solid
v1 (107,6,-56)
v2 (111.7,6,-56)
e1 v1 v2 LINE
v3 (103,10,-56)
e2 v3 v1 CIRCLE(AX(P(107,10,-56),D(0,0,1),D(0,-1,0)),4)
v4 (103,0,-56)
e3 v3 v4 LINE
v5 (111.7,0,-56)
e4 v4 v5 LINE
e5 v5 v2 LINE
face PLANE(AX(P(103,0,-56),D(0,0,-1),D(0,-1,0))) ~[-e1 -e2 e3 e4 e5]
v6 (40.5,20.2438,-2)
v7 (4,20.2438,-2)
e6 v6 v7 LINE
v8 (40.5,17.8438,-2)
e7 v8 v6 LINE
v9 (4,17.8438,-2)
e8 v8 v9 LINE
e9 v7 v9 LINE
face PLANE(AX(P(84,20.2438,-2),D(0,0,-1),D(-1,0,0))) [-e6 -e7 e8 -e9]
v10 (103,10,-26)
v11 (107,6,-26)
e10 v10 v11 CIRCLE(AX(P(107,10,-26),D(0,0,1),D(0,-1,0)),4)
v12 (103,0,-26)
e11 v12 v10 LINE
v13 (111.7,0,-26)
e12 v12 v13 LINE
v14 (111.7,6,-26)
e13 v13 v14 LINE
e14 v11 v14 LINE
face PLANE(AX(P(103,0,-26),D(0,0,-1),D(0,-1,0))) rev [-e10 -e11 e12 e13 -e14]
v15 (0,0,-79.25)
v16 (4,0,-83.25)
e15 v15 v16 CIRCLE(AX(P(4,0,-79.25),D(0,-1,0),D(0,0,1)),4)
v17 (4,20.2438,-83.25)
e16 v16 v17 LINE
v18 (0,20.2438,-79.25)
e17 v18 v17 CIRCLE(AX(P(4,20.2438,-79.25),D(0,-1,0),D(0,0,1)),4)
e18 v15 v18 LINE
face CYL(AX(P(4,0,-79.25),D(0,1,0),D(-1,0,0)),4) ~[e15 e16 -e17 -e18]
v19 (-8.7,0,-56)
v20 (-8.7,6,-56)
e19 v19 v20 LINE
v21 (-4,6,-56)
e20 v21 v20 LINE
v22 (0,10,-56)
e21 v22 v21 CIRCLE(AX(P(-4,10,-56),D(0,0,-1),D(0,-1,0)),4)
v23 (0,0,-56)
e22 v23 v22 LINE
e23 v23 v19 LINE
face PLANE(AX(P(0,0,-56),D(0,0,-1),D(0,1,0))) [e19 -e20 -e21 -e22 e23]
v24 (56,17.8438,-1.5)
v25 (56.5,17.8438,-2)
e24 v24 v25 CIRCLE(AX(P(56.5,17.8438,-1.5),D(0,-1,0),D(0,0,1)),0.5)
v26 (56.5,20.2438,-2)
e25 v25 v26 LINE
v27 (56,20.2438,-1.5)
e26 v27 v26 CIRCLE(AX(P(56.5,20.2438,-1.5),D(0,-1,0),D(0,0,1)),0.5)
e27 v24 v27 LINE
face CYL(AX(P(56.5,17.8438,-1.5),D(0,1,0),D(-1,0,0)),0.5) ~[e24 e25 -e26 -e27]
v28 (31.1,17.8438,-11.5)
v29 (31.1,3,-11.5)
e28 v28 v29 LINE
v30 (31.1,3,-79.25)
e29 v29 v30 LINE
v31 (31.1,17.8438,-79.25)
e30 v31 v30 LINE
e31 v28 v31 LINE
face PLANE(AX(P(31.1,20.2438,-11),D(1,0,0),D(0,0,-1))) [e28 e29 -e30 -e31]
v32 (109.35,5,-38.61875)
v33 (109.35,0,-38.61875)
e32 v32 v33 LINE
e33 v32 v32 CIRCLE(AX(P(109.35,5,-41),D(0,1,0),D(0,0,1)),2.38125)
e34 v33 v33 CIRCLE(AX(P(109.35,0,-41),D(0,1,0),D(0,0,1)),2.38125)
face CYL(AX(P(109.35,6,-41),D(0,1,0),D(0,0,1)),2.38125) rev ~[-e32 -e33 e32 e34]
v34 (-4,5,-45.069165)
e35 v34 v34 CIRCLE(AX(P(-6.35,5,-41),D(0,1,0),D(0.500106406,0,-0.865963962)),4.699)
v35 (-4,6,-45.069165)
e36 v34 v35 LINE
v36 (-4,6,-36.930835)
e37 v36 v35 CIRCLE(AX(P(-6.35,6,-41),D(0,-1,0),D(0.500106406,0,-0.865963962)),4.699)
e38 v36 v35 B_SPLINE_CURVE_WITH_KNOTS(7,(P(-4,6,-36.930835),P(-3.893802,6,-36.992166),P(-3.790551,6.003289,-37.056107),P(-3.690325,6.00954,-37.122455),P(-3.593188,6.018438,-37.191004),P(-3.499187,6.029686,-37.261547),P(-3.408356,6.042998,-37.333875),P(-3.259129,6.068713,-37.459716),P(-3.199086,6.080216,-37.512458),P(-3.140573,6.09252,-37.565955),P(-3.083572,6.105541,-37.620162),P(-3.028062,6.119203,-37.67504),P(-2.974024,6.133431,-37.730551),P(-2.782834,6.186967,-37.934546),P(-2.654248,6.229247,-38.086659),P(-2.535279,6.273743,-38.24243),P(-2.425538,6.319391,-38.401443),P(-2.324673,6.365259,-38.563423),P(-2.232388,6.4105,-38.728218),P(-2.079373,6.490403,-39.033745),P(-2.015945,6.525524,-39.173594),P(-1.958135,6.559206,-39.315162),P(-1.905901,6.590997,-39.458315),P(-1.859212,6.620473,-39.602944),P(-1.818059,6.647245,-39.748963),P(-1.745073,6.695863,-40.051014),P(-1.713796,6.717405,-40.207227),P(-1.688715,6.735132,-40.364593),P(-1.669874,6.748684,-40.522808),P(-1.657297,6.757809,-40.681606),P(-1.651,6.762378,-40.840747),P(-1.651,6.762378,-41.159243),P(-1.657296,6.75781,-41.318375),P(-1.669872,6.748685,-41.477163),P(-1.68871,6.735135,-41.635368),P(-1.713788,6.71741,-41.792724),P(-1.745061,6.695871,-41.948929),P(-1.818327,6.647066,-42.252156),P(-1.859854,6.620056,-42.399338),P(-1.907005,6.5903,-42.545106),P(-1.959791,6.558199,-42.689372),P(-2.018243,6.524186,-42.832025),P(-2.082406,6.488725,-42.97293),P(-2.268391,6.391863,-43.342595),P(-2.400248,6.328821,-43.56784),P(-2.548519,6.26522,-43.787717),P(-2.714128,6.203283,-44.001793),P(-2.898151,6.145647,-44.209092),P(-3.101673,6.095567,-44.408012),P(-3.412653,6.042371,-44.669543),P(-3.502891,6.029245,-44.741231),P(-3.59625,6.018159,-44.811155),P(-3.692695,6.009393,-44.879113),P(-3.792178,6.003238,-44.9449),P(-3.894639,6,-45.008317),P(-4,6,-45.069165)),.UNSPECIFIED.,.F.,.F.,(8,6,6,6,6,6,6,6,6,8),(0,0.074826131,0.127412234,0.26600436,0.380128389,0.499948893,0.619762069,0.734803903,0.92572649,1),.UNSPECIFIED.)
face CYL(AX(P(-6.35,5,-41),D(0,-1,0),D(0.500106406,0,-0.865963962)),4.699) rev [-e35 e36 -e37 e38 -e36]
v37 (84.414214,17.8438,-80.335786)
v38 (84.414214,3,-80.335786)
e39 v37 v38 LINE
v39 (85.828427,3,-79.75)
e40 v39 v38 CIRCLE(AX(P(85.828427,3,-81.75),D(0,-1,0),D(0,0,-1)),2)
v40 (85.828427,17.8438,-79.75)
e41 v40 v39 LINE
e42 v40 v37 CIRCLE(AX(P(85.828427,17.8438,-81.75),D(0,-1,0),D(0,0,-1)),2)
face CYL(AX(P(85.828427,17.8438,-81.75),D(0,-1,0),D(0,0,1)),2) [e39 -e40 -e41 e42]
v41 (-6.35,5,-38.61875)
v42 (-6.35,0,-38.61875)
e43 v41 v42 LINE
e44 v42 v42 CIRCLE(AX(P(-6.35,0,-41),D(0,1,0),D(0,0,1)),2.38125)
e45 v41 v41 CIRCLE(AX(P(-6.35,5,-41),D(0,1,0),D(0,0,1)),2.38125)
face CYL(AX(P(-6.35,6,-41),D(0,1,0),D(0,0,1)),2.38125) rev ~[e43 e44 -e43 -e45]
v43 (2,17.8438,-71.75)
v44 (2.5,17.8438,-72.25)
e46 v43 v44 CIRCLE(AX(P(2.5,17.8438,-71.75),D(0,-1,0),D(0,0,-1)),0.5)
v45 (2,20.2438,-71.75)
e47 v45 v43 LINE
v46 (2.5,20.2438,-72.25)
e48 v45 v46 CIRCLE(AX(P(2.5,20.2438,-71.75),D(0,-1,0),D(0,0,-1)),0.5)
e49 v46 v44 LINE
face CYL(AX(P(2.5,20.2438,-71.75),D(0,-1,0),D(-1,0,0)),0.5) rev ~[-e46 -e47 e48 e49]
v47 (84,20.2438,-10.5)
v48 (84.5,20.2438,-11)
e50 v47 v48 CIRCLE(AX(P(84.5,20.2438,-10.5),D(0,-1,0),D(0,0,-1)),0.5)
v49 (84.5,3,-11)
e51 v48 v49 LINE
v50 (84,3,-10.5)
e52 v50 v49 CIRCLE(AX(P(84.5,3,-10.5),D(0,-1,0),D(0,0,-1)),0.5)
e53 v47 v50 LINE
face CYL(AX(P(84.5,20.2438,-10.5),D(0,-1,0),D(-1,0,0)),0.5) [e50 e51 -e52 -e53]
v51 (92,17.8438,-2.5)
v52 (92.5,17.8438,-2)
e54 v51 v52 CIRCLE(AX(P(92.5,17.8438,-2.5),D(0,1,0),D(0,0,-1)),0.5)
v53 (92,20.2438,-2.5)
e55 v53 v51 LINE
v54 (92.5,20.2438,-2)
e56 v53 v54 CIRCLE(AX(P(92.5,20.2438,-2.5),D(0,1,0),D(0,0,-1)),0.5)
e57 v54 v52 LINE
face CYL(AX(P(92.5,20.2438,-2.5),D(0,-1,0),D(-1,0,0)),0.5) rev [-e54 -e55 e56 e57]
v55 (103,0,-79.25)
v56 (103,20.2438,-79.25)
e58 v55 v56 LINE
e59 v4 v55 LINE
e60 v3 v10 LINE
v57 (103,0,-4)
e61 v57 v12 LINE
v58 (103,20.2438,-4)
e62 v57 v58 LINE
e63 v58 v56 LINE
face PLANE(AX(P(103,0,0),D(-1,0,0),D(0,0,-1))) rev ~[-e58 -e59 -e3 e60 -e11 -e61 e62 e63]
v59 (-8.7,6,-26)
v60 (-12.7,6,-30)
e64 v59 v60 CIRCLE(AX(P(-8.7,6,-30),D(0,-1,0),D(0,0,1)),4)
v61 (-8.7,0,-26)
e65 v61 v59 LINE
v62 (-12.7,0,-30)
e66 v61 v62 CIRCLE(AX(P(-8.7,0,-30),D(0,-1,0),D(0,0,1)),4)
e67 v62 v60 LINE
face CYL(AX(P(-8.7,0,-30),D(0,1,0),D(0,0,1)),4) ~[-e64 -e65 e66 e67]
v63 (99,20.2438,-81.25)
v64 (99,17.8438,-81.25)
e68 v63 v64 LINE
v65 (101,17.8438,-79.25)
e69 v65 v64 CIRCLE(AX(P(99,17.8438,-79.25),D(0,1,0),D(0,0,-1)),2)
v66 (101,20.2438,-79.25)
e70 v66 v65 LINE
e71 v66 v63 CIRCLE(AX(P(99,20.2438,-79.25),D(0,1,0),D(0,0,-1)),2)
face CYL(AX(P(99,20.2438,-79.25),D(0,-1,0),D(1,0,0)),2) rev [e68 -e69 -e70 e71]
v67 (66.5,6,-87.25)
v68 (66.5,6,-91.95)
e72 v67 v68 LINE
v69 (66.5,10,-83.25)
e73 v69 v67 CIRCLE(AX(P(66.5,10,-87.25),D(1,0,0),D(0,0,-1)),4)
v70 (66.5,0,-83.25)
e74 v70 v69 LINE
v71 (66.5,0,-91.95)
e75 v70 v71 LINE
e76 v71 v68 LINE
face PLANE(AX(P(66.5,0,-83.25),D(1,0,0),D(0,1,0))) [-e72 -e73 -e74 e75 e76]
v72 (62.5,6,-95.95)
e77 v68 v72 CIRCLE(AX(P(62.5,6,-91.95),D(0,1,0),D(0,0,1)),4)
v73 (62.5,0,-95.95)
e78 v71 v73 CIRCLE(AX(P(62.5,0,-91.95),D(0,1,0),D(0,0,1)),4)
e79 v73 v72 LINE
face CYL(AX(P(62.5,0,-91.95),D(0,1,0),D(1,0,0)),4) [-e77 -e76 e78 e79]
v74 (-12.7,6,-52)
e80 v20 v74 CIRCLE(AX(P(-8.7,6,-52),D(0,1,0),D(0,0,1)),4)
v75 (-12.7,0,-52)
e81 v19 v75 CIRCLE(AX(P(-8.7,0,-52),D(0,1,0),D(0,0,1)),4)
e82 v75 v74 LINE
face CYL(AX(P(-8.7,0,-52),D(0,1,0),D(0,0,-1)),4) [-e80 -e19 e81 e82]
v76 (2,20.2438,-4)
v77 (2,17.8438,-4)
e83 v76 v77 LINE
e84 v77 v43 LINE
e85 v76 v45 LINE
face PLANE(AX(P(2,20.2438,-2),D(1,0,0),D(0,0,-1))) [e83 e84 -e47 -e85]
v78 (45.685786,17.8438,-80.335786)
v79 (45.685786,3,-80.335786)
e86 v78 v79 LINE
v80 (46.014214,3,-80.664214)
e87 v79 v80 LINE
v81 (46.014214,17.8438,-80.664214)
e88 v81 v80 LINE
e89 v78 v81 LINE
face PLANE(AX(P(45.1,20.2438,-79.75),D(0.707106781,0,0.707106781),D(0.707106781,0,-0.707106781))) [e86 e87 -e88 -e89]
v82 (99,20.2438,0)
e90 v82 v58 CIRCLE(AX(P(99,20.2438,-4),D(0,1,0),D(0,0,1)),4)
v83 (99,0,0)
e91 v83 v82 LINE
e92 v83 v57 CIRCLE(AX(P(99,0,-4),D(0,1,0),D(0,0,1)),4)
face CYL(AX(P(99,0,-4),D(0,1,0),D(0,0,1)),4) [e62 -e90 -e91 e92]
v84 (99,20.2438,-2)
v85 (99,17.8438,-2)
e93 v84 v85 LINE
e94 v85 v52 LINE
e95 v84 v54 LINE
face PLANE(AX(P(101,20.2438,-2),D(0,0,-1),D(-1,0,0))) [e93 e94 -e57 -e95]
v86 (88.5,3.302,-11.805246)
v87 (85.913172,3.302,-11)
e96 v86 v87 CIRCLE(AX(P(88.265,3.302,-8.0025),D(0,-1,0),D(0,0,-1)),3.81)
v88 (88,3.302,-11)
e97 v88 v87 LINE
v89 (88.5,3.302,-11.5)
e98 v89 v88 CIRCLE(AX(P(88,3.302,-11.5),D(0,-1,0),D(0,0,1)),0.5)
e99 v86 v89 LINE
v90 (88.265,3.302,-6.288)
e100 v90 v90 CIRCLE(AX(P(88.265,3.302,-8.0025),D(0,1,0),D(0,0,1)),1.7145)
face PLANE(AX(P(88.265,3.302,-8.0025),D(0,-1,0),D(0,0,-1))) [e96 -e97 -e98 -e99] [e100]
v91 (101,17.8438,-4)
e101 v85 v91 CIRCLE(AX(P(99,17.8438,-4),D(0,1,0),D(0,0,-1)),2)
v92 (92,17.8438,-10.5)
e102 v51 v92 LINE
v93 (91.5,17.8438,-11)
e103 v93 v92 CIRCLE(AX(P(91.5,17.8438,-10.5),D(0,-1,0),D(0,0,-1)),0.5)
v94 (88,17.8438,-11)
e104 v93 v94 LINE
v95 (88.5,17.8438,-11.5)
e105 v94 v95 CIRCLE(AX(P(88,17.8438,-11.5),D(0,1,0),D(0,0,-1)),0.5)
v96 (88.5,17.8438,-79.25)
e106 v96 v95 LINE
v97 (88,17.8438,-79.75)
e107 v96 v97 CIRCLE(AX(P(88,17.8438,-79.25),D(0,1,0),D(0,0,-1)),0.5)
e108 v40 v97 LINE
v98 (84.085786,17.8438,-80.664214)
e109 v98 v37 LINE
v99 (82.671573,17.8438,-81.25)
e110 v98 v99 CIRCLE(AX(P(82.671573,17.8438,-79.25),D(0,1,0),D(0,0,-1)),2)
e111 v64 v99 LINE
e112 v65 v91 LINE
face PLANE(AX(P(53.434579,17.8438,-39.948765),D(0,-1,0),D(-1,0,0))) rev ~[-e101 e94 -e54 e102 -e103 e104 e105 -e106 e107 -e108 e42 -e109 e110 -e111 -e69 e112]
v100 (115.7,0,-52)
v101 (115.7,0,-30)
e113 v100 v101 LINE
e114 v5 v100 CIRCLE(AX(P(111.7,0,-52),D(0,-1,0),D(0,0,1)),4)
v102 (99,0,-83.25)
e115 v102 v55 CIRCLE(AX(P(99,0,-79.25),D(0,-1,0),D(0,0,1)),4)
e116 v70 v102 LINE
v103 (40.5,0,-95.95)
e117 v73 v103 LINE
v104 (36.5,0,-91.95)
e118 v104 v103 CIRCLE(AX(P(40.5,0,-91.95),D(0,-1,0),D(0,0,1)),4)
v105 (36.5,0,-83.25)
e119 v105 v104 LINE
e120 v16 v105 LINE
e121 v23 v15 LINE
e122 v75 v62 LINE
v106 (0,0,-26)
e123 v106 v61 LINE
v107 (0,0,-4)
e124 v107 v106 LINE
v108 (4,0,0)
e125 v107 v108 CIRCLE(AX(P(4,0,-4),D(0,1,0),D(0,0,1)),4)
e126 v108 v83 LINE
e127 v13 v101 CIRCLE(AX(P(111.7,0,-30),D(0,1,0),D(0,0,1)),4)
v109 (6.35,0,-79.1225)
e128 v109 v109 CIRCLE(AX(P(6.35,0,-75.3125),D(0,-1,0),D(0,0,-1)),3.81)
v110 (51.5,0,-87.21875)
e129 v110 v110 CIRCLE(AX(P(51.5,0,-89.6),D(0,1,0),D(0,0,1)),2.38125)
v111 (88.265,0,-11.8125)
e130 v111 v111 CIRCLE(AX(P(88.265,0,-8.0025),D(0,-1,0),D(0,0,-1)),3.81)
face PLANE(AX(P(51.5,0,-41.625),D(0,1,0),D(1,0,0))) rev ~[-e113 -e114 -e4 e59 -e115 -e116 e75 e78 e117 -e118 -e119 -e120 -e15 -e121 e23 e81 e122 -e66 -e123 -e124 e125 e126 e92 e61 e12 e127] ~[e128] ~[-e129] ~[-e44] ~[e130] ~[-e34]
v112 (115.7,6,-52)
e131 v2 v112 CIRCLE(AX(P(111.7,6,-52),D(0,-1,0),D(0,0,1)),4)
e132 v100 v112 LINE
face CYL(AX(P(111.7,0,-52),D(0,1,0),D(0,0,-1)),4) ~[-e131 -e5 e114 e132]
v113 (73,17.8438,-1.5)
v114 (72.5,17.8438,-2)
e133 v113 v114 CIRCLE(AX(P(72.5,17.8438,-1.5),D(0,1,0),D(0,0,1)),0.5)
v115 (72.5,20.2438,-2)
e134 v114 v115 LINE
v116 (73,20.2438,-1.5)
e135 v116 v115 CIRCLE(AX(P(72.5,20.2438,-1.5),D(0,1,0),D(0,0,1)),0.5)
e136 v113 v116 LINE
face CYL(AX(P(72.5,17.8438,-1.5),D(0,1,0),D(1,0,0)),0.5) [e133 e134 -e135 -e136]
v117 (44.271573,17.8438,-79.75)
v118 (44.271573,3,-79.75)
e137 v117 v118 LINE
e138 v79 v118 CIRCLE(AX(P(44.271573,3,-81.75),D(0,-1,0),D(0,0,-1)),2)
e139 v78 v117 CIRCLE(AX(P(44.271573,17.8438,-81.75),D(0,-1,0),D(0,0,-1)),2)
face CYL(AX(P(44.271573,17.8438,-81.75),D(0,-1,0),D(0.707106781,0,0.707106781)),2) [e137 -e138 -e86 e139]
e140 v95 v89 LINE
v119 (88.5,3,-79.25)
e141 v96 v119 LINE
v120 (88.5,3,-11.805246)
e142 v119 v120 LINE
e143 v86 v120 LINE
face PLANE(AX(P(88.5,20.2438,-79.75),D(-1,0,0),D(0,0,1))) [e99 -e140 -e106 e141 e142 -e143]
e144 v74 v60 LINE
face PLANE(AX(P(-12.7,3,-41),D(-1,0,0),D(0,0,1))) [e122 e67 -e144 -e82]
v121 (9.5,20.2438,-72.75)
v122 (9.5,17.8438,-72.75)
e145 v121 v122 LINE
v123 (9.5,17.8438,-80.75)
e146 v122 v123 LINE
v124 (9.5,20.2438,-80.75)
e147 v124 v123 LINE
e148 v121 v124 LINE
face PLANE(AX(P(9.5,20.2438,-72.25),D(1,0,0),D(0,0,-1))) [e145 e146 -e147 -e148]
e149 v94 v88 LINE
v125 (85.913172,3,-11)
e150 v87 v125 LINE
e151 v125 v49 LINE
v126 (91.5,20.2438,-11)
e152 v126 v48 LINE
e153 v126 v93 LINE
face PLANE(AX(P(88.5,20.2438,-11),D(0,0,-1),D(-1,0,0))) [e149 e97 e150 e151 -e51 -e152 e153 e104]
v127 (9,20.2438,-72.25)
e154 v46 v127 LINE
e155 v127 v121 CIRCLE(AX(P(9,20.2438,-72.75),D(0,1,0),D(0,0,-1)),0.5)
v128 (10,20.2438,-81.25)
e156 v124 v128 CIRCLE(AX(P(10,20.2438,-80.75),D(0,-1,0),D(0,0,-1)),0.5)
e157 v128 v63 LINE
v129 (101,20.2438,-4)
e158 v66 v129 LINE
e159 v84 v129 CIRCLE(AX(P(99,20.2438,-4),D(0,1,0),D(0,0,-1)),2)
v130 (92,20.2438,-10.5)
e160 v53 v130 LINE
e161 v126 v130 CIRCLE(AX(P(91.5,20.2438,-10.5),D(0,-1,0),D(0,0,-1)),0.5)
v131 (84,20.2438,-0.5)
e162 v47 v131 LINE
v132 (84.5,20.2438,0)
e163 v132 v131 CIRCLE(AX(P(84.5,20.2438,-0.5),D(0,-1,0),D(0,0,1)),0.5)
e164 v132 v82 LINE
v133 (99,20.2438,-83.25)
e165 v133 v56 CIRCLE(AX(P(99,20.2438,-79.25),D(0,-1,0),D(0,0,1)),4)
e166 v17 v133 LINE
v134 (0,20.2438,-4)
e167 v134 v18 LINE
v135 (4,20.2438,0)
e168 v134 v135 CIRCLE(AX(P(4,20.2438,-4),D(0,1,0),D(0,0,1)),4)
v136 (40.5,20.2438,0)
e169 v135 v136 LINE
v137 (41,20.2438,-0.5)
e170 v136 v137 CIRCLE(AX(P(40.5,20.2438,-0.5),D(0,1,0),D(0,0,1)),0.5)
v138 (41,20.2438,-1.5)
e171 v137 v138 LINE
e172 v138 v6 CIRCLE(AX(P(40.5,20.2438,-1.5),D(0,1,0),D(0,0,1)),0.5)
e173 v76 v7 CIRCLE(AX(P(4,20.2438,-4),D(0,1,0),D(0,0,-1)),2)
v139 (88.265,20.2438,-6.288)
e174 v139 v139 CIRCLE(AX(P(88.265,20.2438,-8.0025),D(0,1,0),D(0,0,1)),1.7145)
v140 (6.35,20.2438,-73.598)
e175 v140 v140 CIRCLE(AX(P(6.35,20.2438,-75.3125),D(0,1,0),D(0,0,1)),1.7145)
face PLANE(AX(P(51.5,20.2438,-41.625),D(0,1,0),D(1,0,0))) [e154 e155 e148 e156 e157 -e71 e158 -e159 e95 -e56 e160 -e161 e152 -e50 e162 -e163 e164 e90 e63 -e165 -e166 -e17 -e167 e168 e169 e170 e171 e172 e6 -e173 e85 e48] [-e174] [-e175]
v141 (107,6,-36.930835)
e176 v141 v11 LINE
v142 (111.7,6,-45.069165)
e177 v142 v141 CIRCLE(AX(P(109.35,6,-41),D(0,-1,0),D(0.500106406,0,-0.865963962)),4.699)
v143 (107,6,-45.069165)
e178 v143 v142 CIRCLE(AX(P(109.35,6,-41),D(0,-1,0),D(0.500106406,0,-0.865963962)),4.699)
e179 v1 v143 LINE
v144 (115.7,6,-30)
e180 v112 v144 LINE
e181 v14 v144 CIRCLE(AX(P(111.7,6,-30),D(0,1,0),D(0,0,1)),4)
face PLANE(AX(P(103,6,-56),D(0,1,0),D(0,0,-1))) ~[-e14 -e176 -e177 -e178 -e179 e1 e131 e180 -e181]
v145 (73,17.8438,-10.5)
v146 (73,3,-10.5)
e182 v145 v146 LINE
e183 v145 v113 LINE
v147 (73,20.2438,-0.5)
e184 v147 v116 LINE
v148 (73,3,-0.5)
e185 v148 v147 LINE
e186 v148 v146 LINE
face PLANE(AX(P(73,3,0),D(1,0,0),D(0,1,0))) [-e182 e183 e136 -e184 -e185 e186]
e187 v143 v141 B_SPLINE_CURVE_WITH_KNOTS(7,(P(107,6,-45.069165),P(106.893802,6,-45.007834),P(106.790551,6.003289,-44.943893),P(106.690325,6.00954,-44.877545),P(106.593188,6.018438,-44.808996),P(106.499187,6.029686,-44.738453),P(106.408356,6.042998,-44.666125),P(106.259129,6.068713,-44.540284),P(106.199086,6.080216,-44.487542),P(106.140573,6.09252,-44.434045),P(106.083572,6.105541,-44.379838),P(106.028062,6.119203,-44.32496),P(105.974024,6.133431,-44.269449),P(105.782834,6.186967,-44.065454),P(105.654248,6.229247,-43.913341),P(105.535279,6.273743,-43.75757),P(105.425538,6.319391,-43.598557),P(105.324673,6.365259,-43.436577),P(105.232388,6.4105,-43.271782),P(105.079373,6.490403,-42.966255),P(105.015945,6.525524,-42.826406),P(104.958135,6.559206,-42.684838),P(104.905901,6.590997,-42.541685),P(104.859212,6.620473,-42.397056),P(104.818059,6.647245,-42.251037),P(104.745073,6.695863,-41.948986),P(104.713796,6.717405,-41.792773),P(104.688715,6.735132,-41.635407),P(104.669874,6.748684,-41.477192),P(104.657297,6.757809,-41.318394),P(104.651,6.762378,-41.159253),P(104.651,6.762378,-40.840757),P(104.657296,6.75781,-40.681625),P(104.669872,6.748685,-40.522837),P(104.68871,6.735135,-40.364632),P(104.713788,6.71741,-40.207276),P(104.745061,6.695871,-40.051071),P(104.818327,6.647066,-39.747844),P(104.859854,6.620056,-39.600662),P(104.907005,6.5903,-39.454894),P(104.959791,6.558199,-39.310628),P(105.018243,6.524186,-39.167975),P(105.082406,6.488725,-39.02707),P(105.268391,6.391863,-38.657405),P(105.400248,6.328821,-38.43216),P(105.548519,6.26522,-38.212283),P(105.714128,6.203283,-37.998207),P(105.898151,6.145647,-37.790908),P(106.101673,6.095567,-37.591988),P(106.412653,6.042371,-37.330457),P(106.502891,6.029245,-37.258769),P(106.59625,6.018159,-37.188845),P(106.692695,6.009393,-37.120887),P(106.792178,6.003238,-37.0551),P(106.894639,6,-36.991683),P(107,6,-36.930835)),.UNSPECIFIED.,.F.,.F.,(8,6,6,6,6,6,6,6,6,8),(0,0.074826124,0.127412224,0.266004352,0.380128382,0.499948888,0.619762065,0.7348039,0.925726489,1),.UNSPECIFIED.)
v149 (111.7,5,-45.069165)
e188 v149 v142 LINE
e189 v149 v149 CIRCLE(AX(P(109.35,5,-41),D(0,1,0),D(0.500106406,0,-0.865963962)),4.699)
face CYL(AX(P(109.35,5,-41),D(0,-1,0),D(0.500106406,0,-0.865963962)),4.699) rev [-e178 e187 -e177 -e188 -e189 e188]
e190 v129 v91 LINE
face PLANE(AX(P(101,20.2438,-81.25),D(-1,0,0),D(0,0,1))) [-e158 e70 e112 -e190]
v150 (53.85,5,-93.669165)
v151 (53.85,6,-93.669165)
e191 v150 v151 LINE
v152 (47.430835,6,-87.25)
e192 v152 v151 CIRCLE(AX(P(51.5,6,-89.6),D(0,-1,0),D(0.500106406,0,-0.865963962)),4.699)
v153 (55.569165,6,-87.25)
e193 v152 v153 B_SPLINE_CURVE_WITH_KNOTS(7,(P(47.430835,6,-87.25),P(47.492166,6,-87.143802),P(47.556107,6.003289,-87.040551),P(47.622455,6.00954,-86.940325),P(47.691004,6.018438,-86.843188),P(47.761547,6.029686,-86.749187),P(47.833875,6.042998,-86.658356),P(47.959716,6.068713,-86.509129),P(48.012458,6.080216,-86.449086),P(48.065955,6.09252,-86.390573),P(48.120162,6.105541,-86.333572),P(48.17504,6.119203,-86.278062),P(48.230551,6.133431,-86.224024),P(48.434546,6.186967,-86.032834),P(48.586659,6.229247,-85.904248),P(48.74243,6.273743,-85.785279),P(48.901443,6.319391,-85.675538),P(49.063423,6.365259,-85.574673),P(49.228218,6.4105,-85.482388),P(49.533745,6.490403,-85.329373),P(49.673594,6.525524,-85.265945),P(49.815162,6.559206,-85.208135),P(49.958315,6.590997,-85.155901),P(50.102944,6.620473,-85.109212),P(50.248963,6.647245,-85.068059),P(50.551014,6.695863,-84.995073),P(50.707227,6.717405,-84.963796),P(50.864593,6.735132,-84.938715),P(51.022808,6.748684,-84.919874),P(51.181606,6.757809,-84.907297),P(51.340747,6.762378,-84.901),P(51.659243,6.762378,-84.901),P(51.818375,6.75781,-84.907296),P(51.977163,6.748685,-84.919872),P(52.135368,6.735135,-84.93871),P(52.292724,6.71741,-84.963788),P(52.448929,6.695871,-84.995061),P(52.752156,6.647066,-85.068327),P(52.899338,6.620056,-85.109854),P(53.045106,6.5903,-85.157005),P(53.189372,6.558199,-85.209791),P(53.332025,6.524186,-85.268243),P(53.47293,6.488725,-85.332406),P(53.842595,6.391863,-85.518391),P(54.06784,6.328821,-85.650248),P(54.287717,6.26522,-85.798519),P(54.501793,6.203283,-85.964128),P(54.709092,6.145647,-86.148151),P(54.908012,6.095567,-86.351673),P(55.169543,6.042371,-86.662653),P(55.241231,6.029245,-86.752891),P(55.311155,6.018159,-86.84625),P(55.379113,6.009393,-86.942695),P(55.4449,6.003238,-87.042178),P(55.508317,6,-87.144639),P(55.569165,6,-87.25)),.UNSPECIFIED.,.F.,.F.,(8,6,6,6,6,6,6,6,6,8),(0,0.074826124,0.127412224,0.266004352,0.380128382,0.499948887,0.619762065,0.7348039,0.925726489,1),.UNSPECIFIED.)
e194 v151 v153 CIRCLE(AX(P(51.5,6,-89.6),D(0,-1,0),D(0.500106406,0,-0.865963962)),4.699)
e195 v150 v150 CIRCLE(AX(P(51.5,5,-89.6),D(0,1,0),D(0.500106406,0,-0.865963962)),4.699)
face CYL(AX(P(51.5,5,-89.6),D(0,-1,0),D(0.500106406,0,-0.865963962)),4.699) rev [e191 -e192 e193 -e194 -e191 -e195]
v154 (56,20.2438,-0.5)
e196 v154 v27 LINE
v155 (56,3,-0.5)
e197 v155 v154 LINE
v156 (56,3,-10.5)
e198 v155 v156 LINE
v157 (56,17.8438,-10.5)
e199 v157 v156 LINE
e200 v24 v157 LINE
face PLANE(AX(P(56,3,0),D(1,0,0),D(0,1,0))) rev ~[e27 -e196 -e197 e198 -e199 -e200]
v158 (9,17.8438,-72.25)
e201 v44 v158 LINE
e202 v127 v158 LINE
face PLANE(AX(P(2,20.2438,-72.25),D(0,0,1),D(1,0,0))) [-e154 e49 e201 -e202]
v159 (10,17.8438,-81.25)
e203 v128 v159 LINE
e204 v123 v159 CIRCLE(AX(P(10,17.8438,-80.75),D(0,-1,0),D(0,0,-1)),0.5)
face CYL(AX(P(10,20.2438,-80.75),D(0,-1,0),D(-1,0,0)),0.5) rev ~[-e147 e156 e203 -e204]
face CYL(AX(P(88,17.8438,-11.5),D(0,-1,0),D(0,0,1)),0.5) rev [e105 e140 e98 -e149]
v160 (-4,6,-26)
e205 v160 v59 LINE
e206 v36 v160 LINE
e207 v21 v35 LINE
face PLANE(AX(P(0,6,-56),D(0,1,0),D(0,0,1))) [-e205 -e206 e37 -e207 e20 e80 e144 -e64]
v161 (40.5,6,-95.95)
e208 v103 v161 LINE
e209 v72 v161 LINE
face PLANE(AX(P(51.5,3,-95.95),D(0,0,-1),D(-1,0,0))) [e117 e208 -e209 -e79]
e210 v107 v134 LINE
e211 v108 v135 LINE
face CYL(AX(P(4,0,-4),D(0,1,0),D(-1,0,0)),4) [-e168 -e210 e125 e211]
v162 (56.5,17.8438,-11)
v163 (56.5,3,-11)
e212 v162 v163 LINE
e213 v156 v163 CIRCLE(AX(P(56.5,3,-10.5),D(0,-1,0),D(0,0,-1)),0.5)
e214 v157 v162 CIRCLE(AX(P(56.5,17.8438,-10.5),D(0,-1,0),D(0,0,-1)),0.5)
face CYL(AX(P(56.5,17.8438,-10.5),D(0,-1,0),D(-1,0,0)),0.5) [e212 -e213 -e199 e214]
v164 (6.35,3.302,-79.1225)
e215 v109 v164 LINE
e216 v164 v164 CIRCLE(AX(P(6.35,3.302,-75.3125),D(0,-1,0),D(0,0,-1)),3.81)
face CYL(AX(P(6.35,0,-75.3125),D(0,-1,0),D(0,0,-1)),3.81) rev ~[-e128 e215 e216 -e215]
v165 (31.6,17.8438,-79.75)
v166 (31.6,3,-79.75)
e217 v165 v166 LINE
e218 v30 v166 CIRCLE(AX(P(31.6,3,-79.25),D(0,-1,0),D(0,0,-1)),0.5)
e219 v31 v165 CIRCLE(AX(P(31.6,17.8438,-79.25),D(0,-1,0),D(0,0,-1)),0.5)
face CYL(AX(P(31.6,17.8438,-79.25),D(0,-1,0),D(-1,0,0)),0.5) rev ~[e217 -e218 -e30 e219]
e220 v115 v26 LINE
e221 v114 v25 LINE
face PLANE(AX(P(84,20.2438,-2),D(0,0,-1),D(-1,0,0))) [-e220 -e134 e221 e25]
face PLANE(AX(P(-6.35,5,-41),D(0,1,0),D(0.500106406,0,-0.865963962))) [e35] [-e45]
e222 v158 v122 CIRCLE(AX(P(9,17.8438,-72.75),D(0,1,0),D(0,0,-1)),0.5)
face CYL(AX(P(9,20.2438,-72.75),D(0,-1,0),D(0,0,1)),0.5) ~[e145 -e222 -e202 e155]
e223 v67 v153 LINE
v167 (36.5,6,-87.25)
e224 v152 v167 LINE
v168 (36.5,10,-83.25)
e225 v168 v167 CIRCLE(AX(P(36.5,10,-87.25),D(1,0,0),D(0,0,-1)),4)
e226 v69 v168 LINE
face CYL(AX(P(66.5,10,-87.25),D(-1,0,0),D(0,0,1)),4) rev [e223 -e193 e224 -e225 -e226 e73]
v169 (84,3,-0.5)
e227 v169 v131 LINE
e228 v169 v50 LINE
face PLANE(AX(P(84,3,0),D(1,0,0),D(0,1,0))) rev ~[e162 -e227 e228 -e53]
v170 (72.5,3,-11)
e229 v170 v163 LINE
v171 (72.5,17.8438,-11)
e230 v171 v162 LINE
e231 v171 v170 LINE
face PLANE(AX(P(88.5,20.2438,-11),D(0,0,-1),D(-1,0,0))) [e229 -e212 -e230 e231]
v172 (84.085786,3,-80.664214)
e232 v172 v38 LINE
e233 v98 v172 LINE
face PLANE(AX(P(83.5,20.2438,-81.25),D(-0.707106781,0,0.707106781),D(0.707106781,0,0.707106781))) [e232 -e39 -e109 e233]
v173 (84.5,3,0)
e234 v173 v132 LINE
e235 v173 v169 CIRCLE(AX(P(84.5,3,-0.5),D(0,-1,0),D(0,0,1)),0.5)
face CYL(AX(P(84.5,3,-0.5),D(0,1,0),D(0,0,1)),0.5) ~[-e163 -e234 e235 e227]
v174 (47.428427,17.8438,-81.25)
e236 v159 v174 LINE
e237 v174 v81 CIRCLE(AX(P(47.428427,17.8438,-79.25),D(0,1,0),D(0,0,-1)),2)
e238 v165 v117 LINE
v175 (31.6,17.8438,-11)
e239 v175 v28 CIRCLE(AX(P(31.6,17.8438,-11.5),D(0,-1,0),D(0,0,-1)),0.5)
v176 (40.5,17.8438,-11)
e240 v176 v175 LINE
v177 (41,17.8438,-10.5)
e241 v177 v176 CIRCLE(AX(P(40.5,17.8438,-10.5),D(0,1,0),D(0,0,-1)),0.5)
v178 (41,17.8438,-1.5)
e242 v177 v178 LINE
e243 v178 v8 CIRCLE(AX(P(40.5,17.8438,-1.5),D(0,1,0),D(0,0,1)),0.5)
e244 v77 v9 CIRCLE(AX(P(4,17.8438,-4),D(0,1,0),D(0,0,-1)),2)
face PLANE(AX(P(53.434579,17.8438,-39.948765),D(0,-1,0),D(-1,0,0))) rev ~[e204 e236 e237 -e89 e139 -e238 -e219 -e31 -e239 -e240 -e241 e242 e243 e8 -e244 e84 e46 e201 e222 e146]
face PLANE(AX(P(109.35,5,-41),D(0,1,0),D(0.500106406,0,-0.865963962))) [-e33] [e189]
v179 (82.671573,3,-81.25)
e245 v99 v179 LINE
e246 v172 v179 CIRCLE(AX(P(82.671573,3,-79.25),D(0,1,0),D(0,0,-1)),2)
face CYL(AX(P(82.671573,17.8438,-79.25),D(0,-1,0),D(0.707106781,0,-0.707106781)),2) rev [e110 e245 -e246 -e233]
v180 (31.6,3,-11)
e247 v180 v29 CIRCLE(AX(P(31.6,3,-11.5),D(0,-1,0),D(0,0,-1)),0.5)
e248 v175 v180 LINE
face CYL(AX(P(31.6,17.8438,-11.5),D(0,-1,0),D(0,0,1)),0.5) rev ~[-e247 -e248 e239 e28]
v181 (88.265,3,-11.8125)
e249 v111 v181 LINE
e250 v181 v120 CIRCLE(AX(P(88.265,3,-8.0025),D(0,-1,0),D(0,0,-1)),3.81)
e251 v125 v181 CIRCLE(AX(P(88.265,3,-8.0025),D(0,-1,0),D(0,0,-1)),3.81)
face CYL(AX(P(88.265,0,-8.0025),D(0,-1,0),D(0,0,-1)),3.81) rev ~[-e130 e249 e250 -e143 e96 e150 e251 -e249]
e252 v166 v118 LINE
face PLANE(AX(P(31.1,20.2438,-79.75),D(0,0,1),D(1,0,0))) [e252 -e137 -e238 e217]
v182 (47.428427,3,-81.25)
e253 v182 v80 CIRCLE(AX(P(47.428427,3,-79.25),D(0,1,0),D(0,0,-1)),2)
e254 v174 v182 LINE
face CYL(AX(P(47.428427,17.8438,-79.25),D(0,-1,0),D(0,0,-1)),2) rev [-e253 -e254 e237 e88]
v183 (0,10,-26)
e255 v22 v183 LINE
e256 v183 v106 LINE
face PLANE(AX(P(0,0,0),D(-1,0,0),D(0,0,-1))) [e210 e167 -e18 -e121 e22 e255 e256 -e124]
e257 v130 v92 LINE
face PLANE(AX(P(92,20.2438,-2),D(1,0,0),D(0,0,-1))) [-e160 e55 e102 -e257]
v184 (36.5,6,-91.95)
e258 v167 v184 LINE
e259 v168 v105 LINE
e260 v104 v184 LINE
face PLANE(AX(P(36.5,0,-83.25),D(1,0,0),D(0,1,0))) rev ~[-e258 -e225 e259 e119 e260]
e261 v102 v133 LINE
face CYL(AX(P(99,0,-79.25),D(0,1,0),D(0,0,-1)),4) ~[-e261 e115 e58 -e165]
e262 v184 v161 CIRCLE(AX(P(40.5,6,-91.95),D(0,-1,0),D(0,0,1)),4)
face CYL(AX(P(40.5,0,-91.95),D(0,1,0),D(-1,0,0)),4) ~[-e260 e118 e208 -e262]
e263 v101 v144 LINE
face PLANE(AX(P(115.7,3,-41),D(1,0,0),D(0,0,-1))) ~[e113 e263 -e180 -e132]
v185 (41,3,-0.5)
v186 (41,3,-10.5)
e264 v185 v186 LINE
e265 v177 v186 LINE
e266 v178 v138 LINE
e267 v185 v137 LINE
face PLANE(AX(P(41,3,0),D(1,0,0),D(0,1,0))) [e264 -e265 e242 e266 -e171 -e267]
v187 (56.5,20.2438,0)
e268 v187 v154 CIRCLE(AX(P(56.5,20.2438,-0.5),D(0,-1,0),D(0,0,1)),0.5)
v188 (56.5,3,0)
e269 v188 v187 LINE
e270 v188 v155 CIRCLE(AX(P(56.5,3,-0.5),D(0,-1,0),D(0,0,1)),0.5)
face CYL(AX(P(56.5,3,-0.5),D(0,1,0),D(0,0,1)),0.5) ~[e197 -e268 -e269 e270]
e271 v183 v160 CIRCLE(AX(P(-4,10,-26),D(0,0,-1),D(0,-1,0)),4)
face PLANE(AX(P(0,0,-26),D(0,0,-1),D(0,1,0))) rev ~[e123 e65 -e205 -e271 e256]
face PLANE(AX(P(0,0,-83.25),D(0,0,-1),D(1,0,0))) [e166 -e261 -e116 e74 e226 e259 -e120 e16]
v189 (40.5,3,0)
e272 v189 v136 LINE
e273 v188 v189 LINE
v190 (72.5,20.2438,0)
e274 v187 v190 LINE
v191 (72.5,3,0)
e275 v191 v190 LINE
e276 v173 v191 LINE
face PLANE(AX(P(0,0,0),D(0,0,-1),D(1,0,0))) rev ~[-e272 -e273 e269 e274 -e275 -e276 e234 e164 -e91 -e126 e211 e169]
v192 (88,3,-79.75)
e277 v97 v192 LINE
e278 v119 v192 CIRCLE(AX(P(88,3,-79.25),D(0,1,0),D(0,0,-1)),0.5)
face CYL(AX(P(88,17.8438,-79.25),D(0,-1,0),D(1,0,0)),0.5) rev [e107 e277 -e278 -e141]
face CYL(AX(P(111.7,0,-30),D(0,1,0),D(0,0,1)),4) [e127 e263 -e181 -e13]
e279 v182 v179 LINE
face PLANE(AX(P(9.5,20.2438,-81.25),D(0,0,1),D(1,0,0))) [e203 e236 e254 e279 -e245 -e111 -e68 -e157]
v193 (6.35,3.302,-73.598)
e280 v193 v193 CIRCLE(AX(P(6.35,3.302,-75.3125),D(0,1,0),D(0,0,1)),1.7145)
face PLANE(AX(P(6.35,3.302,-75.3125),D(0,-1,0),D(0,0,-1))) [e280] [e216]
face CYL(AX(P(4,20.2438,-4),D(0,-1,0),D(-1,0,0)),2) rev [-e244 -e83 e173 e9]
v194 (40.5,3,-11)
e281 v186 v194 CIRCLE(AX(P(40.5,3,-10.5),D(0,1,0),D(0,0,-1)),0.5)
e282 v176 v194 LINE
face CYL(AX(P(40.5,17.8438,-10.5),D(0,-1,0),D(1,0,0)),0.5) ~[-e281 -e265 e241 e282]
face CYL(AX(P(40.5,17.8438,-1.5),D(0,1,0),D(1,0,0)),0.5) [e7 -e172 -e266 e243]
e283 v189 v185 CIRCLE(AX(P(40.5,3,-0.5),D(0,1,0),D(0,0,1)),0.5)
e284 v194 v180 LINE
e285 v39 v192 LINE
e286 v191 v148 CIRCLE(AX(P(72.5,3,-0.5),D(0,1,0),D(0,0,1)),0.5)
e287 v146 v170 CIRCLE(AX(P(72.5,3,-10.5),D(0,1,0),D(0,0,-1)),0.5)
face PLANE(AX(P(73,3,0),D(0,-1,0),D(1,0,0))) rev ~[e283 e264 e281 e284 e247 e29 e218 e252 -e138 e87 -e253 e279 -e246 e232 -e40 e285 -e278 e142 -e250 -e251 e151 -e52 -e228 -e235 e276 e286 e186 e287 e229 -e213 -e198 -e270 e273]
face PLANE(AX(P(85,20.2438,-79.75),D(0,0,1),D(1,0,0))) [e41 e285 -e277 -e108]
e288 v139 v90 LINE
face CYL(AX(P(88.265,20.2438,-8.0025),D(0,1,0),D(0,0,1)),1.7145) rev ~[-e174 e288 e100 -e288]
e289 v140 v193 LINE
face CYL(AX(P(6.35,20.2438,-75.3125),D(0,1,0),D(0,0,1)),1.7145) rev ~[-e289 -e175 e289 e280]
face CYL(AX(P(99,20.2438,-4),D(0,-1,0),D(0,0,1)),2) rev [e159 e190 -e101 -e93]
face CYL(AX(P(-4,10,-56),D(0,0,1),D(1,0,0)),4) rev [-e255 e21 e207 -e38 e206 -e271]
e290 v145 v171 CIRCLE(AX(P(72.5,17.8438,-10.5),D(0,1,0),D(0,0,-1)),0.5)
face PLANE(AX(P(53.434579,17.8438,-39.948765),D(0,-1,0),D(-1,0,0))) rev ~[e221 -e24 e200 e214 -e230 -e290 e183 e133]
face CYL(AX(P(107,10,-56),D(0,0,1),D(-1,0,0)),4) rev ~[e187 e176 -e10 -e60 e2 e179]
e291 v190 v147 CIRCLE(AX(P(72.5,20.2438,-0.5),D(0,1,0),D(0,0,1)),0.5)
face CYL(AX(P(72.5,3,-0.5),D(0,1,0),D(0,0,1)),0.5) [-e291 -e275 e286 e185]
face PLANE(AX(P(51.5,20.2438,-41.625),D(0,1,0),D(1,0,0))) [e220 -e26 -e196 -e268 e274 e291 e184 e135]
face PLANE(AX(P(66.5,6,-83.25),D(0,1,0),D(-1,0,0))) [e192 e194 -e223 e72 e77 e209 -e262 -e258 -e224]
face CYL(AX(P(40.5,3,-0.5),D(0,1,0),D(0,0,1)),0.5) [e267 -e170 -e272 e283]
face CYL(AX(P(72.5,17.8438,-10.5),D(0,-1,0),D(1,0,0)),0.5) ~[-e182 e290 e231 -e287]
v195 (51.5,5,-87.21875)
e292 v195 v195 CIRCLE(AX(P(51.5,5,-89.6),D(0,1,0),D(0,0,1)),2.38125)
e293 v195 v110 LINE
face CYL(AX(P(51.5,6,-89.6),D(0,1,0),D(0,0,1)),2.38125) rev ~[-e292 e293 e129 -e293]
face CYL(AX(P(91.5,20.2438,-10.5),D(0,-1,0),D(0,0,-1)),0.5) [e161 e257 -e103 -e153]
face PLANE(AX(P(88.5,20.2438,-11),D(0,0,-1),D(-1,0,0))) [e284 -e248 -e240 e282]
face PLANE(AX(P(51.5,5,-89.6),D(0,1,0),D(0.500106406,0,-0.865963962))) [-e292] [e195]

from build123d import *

# Parameters (mm, degrees)
SKETCH1_W           = 103
SKETCH1_H           = 83.25
BOSS_EXTRUDE1_DEPTH = 20.2438
CUT_EXTRUDE1_DEPTH  = 17.2438
SKETCH3_W           = 15
SKETCH3_H           = 17.2438
SKETCH3_W_2         = 11
CUT_EXTRUDE2_DEPTH  = 14.9225
CUT_EXTRUDE3_DEPTH  = 2.4
SKETCH5_W           = 30
SKETCH5_H           = 6
BOSS_EXTRUDE2_DEPTH = 12.7
SKETCH6_W           = 30
SKETCH6_H           = 6
BOSS_EXTRUDE3_DEPTH = 12.7
FILLET1_R           = 4
FILLET2_R           = 0.5
FILLET3_R           = 2
FILLET4_R           = 4
FILLET5_R           = 2
SKETCH7_R           = 1.7145
CUT_EXTRUDE4_DEPTH  = 152.66642324
SKETCH8_R           = 3.81
CUT_EXTRUDE5_DEPTH  = 3.302
SKETCH11_R          = 2.38125
CUT_EXTRUDE7_DEPTH  = 151.98270874
CUT_EXTRUDE8_START  = -1
SKETCH12_R          = 4.699
CUT_EXTRUDE8_DEPTH  = 152.98270874


with BuildPart() as part:
    # Sketch1 → Boss-Extrude1 (new body)
    with BuildSketch(Plane(origin=(0, 0, 0), x_dir=(1, 0, 0), z_dir=(0, 1, 0))):
        with Locations((51.5, 41.625)):
            Rectangle(SKETCH1_W, SKETCH1_H)
    extrude(amount=BOSS_EXTRUDE1_DEPTH)

    # Sketch2 → Cut-Extrude1 (cut)
    with BuildSketch(Plane(origin=(0, 20.2438, 0), x_dir=(1, 0, 0), z_dir=(0, 1, 0))):
        Polygon((31.1, 79.75), (45.1, 79.75), (46.6, 81.25), (83.5, 81.25), (85, 79.75), (88.5, 79.75), (88.5, 11), (31.1, 11), align=None)
    extrude(amount=-CUT_EXTRUDE1_DEPTH, mode=Mode.SUBTRACT)

    # Sketch3 → Cut-Extrude2 (cut)
    with BuildSketch(Plane.XY):
        with Locations((48.5, 11.6219)):
            Rectangle(SKETCH3_W, SKETCH3_H)
        with Locations((78.5, 11.6219)):
            Rectangle(SKETCH3_W_2, SKETCH3_H)
    extrude(amount=-CUT_EXTRUDE2_DEPTH, mode=Mode.SUBTRACT)

    # Sketch4 → Cut-Extrude3 (cut)
    with BuildSketch(Plane(origin=(0, 20.2438, 0), x_dir=(1, 0, 0), z_dir=(0, 1, 0))):
        Polygon((9.5, 81.25), (101, 81.25), (101, 2), (92, 2), (92, 11), (84, 11), (84, 2), (2, 2), (2, 72.25), (9.5, 72.25), align=None)
    extrude(amount=-CUT_EXTRUDE3_DEPTH, mode=Mode.SUBTRACT)

    # Sketch5 → Boss-Extrude2 (add)
    with BuildSketch(Plane.ZY):
        with Locations((-41, 3)):
            Rectangle(SKETCH5_W, SKETCH5_H)
    boss_extrude2 = extrude(amount=BOSS_EXTRUDE2_DEPTH)

    # Mirror1: Boss-Extrude2 across plane
    add(boss_extrude2.mirror(Plane.ZY.offset(-51.5)))

    # Sketch6 → Boss-Extrude3 (add)
    with BuildSketch(Plane(origin=(0, 0, -83.25), x_dir=(-1, 0, 0), z_dir=(0, 0, -1))):
        with Locations((-51.5, 3)):
            Rectangle(SKETCH6_W, SKETCH6_H)
    extrude(amount=BOSS_EXTRUDE3_DEPTH)

    # Fillet1
    fillet1_edges = [part.edges().sort_by_distance(p)[0] for p in [
        (0, 10.1219, -83.25),
        (103, 10.1219, -83.25),
        (103, 10.1219, 0),
        (0, 10.1219, 0),
    ]]
    fillet(fillet1_edges, radius=FILLET1_R)

    # Fillet2
    fillet2_edges = [part.edges().sort_by_distance(p)[0] for p in [
        (9.5, 19.0438, -81.25),
        (92, 19.0438, -11),
        (73, 19.0438, -2),
        (41, 19.0438, -2),
        (92, 19.0438, -2),
        (2, 19.0438, -72.25),
        (9.5, 19.0438, -72.25),
        (88.5, 10.4219, -11),
        (88.5, 10.4219, -79.75),
        (31.1, 10.4219, -79.75),
        (31.1, 10.4219, -11),
        (84, 11.6219, -11),
        (56, 10.4219, -11),
        (41, 11.6219, 0),
        (56, 11.6219, 0),
        (73, 11.6219, 0),
        (84, 11.6219, 0),
        (56, 19.0438, -2),
        (41, 10.4219, -11),
        (73, 10.4219, -11),
    ]]
    fillet(fillet2_edges, radius=FILLET2_R)

    # Fillet3
    fillet3_edges = [part.edges().sort_by_distance(p)[0] for p in [
        (101, 19.0438, -2),
        (2, 19.0438, -2),
        (101, 19.0438, -81.25),
    ]]
    fillet(fillet3_edges, radius=FILLET3_R)

    # Fillet4
    fillet4_edges = [part.edges().sort_by_distance(p)[0] for p in [
        (0, 6, -41),
        (-12.7, 3, -56),
        (-12.7, 3, -26),
        (115.7, 3, -56),
        (115.7, 3, -26),
        (103, 6, -41),
        (51.5, 6, -83.25),
        (66.5, 3, -95.95),
        (36.5, 3, -95.95),
    ]]
    fillet(fillet4_edges, radius=FILLET4_R)

    # Fillet5
    fillet5_edges = [part.edges().sort_by_distance(p)[0] for p in [
        (85, 10.4219, -79.75),
        (83.5, 10.4219, -81.25),
        (46.6, 10.4219, -81.25),
        (45.1, 10.4219, -79.75),
    ]]
    fillet(fillet5_edges, radius=FILLET5_R)

    # Sketch7 → Cut-Extrude4 (cut, through all)
    with BuildSketch(Plane(origin=(0, 20.2438, 0), x_dir=(1, 0, 0), z_dir=(0, 1, 0))):
        with Locations(Location((6.35, 75.3125, 0), (0, 0, 270))):
            Circle(SKETCH7_R)
        with Locations(Location((88.265, 8.0025, 0), (0, 0, 270))):
            Circle(SKETCH7_R)
    extrude(amount=-CUT_EXTRUDE4_DEPTH, mode=Mode.SUBTRACT)

    # Sketch8 → Cut-Extrude5 (cut)
    with BuildSketch(Plane.XZ):
        with Locations(Location((6.35, -75.3125, 0), (0, 0, 270))):
            Circle(SKETCH8_R)
        with Locations(Location((88.265, -8.0025, 0), (0, 0, 270))):
            Circle(SKETCH8_R)
    extrude(amount=-CUT_EXTRUDE5_DEPTH, mode=Mode.SUBTRACT)

    # Sketch11 → Cut-Extrude7 (cut, through all)
    with BuildSketch(Plane(origin=(0, 6, 0), x_dir=(1, 0, 0), z_dir=(0, 1, 0))):
        with Locations(Location((-6.35, 41, 0), (0, 0, 270))):
            Circle(SKETCH11_R)
    cut_extrude7 = extrude(amount=-CUT_EXTRUDE7_DEPTH, mode=Mode.SUBTRACT)

    # Sketch12 → Cut-Extrude8 (cut)
    with BuildSketch(Plane(origin=(0, 6, 0), x_dir=(1, 0, 0), z_dir=(0, 1, 0)).offset(CUT_EXTRUDE8_START)):
        with Locations(Location((-6.35, 41, 0), (0, 0, 59.992960011))):
            Circle(SKETCH12_R)
    cut_extrude8 = extrude(amount=CUT_EXTRUDE8_DEPTH, mode=Mode.SUBTRACT)

    # Sketch-Pattern2: Cut-Extrude7, Cut-Extrude8 at 2 more places
    with Locations((57.85, 0, -48.6), (115.7, 0, 0)):
        add(cut_extrude7, mode=Mode.SUBTRACT)
        add(cut_extrude8, mode=Mode.SUBTRACT)


solid = part.part
